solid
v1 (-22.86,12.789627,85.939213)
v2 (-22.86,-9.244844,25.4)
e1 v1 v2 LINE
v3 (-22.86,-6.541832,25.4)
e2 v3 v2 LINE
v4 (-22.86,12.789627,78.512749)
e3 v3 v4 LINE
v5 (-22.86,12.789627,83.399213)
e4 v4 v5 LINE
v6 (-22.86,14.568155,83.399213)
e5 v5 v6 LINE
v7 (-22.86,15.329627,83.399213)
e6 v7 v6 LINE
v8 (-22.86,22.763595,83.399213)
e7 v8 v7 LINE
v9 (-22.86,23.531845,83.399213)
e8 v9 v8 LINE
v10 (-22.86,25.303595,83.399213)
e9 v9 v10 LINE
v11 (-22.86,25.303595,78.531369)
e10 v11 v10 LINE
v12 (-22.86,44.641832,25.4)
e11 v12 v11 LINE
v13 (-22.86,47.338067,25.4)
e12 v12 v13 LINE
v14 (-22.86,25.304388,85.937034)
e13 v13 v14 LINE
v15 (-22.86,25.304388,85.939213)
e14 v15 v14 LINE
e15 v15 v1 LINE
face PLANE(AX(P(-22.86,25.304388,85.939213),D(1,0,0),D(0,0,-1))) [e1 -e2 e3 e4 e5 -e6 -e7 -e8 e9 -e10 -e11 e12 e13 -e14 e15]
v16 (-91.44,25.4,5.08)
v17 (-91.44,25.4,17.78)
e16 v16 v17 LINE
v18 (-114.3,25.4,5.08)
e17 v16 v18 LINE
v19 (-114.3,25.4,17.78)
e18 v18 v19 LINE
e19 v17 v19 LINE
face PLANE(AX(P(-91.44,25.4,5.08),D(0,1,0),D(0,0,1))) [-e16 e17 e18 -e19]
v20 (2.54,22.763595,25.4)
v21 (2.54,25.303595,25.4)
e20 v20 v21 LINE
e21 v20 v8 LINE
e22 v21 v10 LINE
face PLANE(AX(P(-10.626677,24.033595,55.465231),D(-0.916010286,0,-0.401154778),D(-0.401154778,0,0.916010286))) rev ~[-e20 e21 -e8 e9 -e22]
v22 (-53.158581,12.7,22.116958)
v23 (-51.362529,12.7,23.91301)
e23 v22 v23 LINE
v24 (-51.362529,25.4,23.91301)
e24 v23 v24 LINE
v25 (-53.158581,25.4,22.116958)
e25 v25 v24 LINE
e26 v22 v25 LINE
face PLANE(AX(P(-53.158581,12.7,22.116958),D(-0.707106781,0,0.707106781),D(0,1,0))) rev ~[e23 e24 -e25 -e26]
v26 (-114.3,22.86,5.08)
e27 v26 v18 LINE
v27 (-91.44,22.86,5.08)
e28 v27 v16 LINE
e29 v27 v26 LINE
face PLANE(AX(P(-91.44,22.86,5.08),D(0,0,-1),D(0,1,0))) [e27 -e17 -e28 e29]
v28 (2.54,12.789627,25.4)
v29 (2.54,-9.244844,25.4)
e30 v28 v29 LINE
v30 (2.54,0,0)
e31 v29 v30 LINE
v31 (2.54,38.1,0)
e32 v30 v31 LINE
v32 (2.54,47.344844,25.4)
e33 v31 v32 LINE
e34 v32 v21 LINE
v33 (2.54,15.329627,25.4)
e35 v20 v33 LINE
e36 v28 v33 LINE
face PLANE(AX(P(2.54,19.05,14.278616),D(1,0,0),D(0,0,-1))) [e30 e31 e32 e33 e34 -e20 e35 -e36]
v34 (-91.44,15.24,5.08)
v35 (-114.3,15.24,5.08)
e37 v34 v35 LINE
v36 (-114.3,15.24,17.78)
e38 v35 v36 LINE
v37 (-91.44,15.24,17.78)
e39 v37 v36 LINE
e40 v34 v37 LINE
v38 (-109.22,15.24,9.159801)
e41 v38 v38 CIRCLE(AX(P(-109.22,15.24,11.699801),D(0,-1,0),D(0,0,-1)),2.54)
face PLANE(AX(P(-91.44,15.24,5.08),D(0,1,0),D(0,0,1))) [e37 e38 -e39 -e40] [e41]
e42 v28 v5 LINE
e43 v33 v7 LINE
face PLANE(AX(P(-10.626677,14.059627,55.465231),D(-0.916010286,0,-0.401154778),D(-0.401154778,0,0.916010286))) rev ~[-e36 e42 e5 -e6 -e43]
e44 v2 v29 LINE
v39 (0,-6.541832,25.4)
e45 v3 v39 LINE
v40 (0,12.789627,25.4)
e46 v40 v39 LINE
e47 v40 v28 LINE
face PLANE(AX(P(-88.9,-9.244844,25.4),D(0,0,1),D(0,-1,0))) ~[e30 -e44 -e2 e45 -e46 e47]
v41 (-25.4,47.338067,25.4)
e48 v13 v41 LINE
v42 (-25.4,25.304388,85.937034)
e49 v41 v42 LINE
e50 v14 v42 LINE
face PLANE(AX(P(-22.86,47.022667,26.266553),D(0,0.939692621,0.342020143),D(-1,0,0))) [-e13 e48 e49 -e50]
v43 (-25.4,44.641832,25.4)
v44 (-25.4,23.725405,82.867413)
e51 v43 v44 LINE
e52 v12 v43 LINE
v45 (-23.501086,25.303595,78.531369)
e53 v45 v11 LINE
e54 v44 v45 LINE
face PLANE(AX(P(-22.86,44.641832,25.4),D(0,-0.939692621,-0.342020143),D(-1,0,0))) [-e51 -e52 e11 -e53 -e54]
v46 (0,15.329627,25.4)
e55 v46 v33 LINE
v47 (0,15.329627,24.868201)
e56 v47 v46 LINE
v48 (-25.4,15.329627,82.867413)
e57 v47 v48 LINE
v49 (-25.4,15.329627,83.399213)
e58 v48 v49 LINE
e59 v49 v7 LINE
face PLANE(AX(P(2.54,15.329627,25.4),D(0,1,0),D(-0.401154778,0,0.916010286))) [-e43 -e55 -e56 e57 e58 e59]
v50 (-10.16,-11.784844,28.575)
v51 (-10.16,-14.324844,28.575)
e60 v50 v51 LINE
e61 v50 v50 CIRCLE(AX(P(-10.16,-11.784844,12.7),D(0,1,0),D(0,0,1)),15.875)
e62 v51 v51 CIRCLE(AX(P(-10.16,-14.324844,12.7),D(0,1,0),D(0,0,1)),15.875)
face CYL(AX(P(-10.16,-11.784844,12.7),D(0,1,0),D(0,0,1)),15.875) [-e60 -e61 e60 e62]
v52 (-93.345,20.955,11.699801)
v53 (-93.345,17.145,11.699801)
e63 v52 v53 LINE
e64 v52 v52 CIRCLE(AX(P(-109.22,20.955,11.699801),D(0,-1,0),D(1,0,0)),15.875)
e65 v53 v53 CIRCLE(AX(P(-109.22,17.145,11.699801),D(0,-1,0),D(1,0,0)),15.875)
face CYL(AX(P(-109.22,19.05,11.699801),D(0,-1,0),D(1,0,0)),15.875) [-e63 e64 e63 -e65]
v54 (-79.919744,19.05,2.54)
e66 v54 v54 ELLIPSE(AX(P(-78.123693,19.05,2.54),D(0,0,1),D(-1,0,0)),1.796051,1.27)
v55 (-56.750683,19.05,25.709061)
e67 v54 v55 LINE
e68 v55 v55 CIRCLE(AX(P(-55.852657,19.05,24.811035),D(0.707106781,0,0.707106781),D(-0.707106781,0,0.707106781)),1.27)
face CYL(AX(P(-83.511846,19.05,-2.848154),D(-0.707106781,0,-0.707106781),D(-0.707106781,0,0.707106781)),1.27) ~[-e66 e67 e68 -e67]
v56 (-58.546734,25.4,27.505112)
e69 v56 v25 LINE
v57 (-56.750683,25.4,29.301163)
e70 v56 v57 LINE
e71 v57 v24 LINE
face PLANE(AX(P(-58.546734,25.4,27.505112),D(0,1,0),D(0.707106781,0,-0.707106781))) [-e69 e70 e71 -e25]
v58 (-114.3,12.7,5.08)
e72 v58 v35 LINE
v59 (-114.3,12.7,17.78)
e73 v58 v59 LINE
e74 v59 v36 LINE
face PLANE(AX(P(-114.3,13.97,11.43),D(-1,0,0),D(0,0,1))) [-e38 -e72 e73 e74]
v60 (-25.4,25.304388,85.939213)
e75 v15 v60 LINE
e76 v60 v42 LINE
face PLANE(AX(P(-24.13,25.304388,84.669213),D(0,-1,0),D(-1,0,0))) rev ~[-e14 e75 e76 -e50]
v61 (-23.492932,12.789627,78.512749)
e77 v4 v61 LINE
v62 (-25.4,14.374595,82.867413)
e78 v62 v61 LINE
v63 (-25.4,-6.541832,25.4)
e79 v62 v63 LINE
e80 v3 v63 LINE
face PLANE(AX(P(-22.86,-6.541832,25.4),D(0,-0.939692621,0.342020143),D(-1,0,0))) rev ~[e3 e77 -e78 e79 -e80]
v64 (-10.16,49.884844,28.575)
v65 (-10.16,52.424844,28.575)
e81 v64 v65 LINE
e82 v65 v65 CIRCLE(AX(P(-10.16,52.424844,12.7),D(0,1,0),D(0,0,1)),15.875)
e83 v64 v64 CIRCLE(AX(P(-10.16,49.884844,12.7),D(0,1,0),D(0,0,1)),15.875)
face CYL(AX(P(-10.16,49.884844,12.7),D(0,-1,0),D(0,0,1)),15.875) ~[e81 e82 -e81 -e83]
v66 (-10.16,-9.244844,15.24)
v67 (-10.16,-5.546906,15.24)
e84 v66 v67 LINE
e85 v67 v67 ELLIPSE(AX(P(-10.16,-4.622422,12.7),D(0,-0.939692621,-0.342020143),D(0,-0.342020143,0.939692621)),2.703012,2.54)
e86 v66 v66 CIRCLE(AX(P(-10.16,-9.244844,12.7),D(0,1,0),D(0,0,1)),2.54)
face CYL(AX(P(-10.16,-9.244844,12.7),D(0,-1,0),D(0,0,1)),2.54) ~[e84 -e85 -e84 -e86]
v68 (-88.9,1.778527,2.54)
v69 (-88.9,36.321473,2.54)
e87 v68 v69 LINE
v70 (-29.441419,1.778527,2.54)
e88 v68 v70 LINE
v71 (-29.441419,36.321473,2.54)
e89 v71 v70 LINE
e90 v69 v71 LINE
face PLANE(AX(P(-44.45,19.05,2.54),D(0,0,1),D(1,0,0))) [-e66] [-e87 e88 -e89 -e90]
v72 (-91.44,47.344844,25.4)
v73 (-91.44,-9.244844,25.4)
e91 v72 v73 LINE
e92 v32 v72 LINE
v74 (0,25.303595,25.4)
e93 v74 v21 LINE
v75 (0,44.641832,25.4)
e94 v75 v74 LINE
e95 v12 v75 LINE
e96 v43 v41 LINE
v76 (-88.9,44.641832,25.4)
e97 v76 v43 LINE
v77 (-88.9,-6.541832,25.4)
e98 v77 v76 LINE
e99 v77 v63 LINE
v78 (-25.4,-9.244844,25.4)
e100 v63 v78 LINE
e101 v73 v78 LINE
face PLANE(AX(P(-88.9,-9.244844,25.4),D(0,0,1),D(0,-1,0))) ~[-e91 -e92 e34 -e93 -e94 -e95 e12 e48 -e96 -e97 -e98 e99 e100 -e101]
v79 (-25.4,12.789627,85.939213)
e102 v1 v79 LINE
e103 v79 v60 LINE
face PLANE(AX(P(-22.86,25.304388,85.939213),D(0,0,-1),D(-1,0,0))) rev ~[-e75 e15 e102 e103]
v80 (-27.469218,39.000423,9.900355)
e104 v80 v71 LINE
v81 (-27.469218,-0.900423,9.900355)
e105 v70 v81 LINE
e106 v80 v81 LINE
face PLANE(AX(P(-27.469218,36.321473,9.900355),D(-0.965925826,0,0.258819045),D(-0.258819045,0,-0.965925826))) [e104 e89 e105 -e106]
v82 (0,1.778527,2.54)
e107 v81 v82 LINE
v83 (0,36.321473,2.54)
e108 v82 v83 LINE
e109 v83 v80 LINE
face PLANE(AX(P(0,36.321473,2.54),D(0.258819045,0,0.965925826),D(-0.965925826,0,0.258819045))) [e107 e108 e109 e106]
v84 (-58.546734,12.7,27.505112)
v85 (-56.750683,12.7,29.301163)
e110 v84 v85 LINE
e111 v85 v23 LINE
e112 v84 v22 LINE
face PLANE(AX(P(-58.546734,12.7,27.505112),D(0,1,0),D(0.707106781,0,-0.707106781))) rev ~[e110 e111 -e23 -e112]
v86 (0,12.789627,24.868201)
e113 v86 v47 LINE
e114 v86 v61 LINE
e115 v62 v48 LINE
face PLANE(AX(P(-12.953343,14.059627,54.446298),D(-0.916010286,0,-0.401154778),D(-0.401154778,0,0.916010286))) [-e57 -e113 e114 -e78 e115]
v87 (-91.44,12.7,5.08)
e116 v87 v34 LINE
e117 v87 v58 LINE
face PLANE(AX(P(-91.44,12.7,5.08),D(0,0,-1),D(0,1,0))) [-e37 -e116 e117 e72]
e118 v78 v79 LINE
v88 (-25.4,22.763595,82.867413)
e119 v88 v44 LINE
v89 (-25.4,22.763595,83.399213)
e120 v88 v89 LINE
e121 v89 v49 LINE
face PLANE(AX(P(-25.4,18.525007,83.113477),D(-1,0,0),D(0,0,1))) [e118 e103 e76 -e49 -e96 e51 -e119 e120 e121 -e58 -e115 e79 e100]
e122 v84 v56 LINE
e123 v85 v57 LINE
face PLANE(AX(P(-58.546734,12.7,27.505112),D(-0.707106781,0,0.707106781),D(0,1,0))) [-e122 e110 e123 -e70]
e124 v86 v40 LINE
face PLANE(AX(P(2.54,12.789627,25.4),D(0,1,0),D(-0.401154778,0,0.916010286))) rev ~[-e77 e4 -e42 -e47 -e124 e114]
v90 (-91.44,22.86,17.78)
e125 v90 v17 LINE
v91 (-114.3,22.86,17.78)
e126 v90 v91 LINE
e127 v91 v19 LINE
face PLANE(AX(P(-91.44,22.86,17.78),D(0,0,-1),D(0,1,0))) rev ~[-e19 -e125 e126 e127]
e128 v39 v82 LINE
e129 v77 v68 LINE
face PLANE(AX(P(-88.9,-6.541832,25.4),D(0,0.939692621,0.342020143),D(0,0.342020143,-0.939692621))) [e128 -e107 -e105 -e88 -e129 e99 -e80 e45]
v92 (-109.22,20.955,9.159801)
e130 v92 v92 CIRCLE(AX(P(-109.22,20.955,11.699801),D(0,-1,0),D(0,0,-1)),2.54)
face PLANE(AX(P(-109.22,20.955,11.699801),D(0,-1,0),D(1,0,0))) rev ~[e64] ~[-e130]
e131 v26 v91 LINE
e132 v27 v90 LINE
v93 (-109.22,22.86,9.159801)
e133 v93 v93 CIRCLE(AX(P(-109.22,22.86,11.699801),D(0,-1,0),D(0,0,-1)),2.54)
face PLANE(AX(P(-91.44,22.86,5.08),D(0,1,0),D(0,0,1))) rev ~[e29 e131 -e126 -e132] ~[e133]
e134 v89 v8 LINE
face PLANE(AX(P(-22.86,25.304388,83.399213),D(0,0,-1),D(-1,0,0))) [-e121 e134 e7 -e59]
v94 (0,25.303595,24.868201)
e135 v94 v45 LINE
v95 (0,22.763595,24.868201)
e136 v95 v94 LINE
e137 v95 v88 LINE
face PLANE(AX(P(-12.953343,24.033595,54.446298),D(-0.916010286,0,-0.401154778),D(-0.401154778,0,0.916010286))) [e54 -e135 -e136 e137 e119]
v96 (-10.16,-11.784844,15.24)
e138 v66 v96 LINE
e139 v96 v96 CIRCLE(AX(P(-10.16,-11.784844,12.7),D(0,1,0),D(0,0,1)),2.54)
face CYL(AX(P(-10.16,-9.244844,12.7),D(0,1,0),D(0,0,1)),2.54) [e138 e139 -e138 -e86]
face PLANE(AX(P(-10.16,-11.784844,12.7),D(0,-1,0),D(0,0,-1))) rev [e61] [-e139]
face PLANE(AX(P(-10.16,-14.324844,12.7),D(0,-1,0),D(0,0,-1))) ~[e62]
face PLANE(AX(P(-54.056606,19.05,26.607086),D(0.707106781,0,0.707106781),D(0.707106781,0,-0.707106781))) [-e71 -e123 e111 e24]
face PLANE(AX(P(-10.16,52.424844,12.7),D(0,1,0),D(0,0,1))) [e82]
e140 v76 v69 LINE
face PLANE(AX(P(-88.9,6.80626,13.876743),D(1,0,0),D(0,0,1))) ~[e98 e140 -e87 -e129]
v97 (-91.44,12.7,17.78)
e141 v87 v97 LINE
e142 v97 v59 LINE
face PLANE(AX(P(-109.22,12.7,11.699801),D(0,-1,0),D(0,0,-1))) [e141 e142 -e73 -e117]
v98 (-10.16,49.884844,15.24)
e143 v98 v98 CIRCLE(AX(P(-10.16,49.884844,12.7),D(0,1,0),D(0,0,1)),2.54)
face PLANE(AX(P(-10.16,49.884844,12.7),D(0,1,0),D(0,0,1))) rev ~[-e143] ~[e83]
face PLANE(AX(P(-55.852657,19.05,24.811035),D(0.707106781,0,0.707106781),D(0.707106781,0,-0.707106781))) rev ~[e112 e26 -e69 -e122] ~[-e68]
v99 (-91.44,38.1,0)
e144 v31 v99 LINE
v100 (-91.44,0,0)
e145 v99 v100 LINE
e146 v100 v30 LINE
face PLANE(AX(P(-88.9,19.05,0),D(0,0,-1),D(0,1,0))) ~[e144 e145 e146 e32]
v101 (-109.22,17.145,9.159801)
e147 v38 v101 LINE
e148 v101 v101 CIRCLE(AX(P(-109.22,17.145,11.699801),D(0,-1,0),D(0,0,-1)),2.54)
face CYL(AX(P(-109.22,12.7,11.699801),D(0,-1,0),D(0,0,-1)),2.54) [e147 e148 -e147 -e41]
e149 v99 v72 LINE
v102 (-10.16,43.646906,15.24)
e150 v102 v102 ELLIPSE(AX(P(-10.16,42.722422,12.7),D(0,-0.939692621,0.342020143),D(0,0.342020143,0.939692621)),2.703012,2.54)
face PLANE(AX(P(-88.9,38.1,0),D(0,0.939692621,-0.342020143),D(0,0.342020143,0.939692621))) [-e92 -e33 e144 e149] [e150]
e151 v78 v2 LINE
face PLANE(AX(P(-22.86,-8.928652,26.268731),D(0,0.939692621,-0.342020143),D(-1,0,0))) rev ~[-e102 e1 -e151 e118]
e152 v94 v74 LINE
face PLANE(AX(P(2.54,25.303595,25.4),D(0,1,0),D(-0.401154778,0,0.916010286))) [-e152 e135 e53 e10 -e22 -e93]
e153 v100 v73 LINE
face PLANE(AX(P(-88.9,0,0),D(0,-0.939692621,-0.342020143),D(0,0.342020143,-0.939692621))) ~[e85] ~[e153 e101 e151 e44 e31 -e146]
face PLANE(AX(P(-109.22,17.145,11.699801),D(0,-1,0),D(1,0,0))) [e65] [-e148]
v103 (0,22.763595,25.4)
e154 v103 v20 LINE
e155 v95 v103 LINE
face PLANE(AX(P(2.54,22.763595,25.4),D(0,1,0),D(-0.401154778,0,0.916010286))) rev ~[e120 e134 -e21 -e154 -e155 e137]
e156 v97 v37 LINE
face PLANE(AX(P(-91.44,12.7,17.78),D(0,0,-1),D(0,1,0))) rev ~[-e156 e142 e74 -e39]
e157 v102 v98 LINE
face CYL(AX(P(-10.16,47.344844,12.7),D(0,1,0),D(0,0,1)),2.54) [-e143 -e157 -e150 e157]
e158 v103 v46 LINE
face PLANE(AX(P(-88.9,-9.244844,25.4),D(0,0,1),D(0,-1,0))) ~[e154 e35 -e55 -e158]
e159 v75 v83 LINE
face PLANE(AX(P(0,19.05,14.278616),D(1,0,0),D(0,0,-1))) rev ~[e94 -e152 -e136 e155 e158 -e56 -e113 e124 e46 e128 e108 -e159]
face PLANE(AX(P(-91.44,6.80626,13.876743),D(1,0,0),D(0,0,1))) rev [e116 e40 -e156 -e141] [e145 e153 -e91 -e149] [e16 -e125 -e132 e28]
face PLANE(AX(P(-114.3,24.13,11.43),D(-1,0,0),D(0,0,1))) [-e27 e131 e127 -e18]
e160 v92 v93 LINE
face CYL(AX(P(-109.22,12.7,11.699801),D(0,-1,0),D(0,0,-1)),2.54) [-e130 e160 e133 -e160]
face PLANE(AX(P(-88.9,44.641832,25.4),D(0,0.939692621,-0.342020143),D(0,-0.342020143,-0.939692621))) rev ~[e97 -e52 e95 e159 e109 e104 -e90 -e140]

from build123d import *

# Parameters (mm, degrees)
SKETCH1_W                        = 88.9
SKETCH1_H                        = 38.1
BOSS_EXTRUDE1_DEPTH              = 2.54
BOSS_EXTRUDE2_DEPTH              = 88.9
BOSS_EXTRUDE3_DEPTH              = 2.54
SKETCH5_R                        = 2.54
BOSS_EXTRUDE4_DEPTH              = 2.54
BOSS_EXTRUDE4_DIRECTION_2_REACH  = 110.401
SKETCH6_R                        = 15.875
BOSS_EXTRUDE5_DEPTH              = 2.54
BOSS_EXTRUDE6_DEPTH              = 2.54
SKETCH8_W                        = 12.7
SKETCH8_H                        = 2.54
BOSS_EXTRUDE7_DEPTH              = 22.86
SKETCH9_R                        = 2.54
BOSS_EXTRUDE8_DEPTH              = 12.7
SKETCH11_R                       = 15.875
BOSS_EXTRUDE9_DEPTH              = 1.905
BOSS_EXTRUDE9_DEPTH_BACK         = 1.905
SKETCH13_W                       = 2.54
SKETCH13_H                       = 2.53363156
BOSS_EXTRUDE10_DEPTH             = 63.5
BOSS_EXTRUDE10_DIRECTION_2_REACH = 140.326
SKETCH16_W                       = 2.54
SKETCH16_H                       = 2.54
BOSS_EXTRUDE12_DEPTH             = 63.5
BOSS_EXTRUDE12_DIRECTION_2_REACH = 150.26
BOSS_EXTRUDE14_START             = -6.254388
SKETCH18_W                       = 2.54
SKETCH18_H                       = 2.54
BOSS_EXTRUDE14_DEPTH             = 12.514761
SKETCH19_W                       = 65.643872796
SKETCH19_H                       = 2.54
BOSS_EXTRUDE15_DEPTH             = 2.54
SKETCH20_W                       = 5.651471939
SKETCH20_H                       = 13.55717745
CUT_EXTRUDE1_DEPTH               = 2.54
SKETCH21_R                       = 1.27
BOSS_EXTRUDE16_DEPTH             = 39.116
SKETCH22_W                       = 9.722484857
SKETCH22_H                       = 17.213461762
CUT_EXTRUDE2_DEPTH               = 39.116
SKETCH23_W                       = 7.62
SKETCH23_H                       = 12.7
BOSS_EXTRUDE17_DEPTH             = 2.54
BOSS_EXTRUDE18_REACH             = 161.998
BOSS_EXTRUDE18_DIRECTION_2_REACH = 161.998


with BuildPart() as part:
    # Sketch1 → Boss-Extrude1 (new body)
    with BuildSketch(Plane.XY):
        with Locations((-44.45, 19.05)):
            Rectangle(SKETCH1_W, SKETCH1_H)
    extrude(amount=BOSS_EXTRUDE1_DEPTH)

    # Sketch2 → Boss-Extrude2 (add, through all)
    with BuildSketch(Plane.ZY.offset(88.9)):
        Polygon((0, 0), (25.4, -9.24484395), (25.4, -6.541832408), (2.54, 1.778527147), align=None)
        Polygon((0, 38.1), (25.4, 47.34484395), (25.4, 44.641832408), (2.54, 36.321472853), align=None)
    extrude(amount=-BOSS_EXTRUDE2_DEPTH)

    # Sketch3 → Boss-Extrude3 (add)
    with BuildSketch(Plane(origin=(0, 0, 0), x_dir=(0, 0, -1), z_dir=(1, 0, 0))):
        Polygon((-25.4, -9.24484395), (0, 0), (0, 38.1), (-25.4, 47.34484395), align=None)
    extrude(amount=BOSS_EXTRUDE3_DEPTH)

    # Sketch5 → Boss-Extrude4 (add)
    with BuildSketch(Plane(origin=(0, 47.34484395, 0), x_dir=(-1, 0, 0), z_dir=(0, 1, 0))):
        with Locations(Location((10.16, 12.7, 0), (0, 0, 90))):
            Circle(SKETCH5_R)
    boss_extrude4 = extrude(amount=BOSS_EXTRUDE4_DEPTH)

    # Sketch5 → Boss-Extrude4 direction 2 (add, up to next)
    with BuildSketch(Plane(origin=(0, 47.34484395, 0), x_dir=(-1, 0, 0), z_dir=(0, 1, 0)), mode=Mode.PRIVATE) as boss_extrude4_direction_2_sk1:
        with Locations(Location((10.16, 12.7, 0), (0, 0, 90))):
            Circle(SKETCH5_R)
    boss_extrude4_direction_2_tool1 = extrude(boss_extrude4_direction_2_sk1.sketch, amount=-BOSS_EXTRUDE4_DIRECTION_2_REACH, mode=Mode.PRIVATE) - part.part
    boss_extrude4_direction_2 = boss_extrude4_direction_2_tool1.solids().sort_by_distance((-10.16, 47.344844, 12.7))[0]
    add(boss_extrude4_direction_2)

    # Sketch6 → Boss-Extrude5 (add)
    with BuildSketch(Plane(origin=(0, 49.88484395, 0), x_dir=(1, 0, 0), z_dir=(0, 1, 0))):
        with Locations(Location((-10.16, -12.7, 0), (0, 0, 270))):
            Circle(SKETCH6_R)
    boss_extrude5 = extrude(amount=BOSS_EXTRUDE5_DEPTH)

    # Sketch7 → Boss-Extrude6 (add)
    with BuildSketch(Plane.ZY.offset(88.9)):
        Polygon((25.4, 47.34484395), (25.4, 19.05), (0, 19.05), (0, 38.1), align=None)
    boss_extrude6 = extrude(amount=BOSS_EXTRUDE6_DEPTH)

    # Mirror1: Boss-Extrude4, Boss-Extrude4 direction 2, Boss-Extrude5, Boss-Extrude6 across plane
    add(boss_extrude4.mirror(Plane(origin=(0, 19.05, 0), x_dir=(0, 0, 1), z_dir=(0, -1, 0))))
    add(boss_extrude4_direction_2.mirror(Plane(origin=(0, 19.05, 0), x_dir=(0, 0, 1), z_dir=(0, -1, 0))))
    add(boss_extrude5.mirror(Plane(origin=(0, 19.05, 0), x_dir=(0, 0, 1), z_dir=(0, -1, 0))))
    add(boss_extrude6.mirror(Plane(origin=(0, 19.05, 0), x_dir=(0, 0, 1), z_dir=(0, -1, 0))))

    # Sketch8 → Boss-Extrude7 (add)
    with BuildSketch(Plane.ZY.offset(91.44)):
        with Locations((11.43, 24.13)):
            Rectangle(SKETCH8_W, SKETCH8_H)
        with Locations((11.43, 13.97)):
            Rectangle(SKETCH8_W, SKETCH8_H)
    extrude(amount=BOSS_EXTRUDE7_DEPTH)

    # Sketch9 → Boss-Extrude8 (add)
    with BuildSketch(Plane(origin=(0, 12.7, 0), x_dir=(-1, 0, 0), z_dir=(0, -1, 0))):
        with Locations(Location((109.22, -11.699801303, 0), (0, 0, 90))):
            Circle(SKETCH9_R)
    extrude(amount=-BOSS_EXTRUDE8_DEPTH)

    # Sketch11 → Boss-Extrude9 (add, two sides)
    with BuildSketch(Plane(origin=(0, 19.05, 0), x_dir=(-1, 0, 0), z_dir=(0, -1, 0))) as boss_extrude9_sk:
        with Locations(Location((109.22, -11.699801303, 0), (0, 0, 180))):
            Circle(SKETCH11_R)
    extrude(amount=BOSS_EXTRUDE9_DEPTH)
    extrude(boss_extrude9_sk.sketch, amount=-BOSS_EXTRUDE9_DEPTH_BACK)


with BuildPart() as body_2:
    # Sketch13 → Boss-Extrude10 (new body)
    with BuildSketch(Plane(origin=(0, -2.941300262, 8.081156055), x_dir=(-1, 0, 0), z_dir=(0, 0.34202014332566333, -0.9396926207859104))):
        with Locations((24.13, 51.903727913)):
            Rectangle(SKETCH13_W, SKETCH13_H)
    extrude(amount=-BOSS_EXTRUDE10_DEPTH)


    # Sketch13 → Boss-Extrude10 direction 2 (add, up to next)
    with BuildSketch(Plane(origin=(0, -2.941300262, 8.081156055), x_dir=(-1, 0, 0), z_dir=(0, 0.34202014332566333, -0.9396926207859104)), mode=Mode.PRIVATE) as boss_extrude10_direction_2_sk1:
        with Locations((24.13, 51.903727913)):
            Rectangle(SKETCH13_W, SKETCH13_H)
    boss_extrude10_direction_2_tool1 = extrude(boss_extrude10_direction_2_sk1.sketch, amount=BOSS_EXTRUDE10_DIRECTION_2_REACH, mode=Mode.PRIVATE) - part.part
    add(boss_extrude10_direction_2_tool1.solids().sort_by_distance((-24.13, 45.83225, 25.833277))[0])


with BuildPart() as boss_extrude12_tool:
    # Sketch16 → Boss-Extrude12 (new body)
    with BuildSketch(Plane(origin=(0, 7.398153621, 20.326260019), x_dir=(-1, 0, 0), z_dir=(0, 0.34202014332566943, 0.9396926207859081))):
        with Locations((24.13, 16.104623281)):
            Rectangle(SKETCH16_W, SKETCH16_H)
    extrude(amount=BOSS_EXTRUDE12_DEPTH)


with BuildPart() as part_1:
    add(part.part)


with BuildPart() as part_2:
    # Boss-Extrude12: joined with boss_extrude12_tool
    add(part_1.part.fuse(boss_extrude12_tool.part, tol=0.00001))

    # Sketch16 → Boss-Extrude12 direction 2 (add, up to next)
    with BuildSketch(Plane(origin=(0, 7.398153621, 20.326260019), x_dir=(-1, 0, 0), z_dir=(0, 0.34202014332566943, 0.9396926207859081)), mode=Mode.PRIVATE) as boss_extrude12_direction_2_sk1:
        with Locations((24.13, 16.104623281)):
            Rectangle(SKETCH16_W, SKETCH16_H)
    boss_extrude12_direction_2_tool1 = extrude(boss_extrude12_direction_2_sk1.sketch, amount=-BOSS_EXTRUDE12_DIRECTION_2_REACH, mode=Mode.PRIVATE) - part_2.part
    add(boss_extrude12_direction_2_tool1.solids().sort_by_distance((-24.13, -7.735242, 25.834366))[0])


    add(body_2.part)  # Boss-Extrude14 merges body 2
    # Sketch18 → Boss-Extrude14 (add)
    with BuildSketch(Plane(origin=(0, 19.05, 0), x_dir=(-1, 0, 0), z_dir=(0, -1, 0)).offset(BOSS_EXTRUDE14_START)):
        with Locations((24.13, -84.669212584)):
            Rectangle(SKETCH18_W, SKETCH18_H)
    extrude(amount=BOSS_EXTRUDE14_DEPTH)

    # Sketch19 → Boss-Extrude15 (add)
    with BuildSketch(Plane(origin=(11.464782442, 0, 5.020852199), x_dir=(-0.40115477823907125, 0, 0.9160102859116602), z_dir=(-0.9160102859116602, 0, -0.40115477823907125))):
        with Locations((55.069664523, 14.059627436)):
            Rectangle(SKETCH19_W, SKETCH19_H)
        with Locations((55.069664523, 24.033595411)):
            Rectangle(SKETCH19_W, SKETCH19_H)
    extrude(amount=BOSS_EXTRUDE15_DEPTH)

    # Sketch20 → Cut-Extrude1 (cut)
    with BuildSketch(Plane.ZY.offset(25.4)):
        with Locations((83.113476615, 18.525006686)):
            Rectangle(SKETCH20_W, SKETCH20_H)
    extrude(amount=CUT_EXTRUDE1_DEPTH, mode=Mode.SUBTRACT)

    # Sketch21 → Boss-Extrude16 (add)
    with BuildSketch(Plane(origin=(-43.18, 0, -43.18), x_dir=(0, -1, 0), z_dir=(0.7071067811865488, 0, 0.7071067811865464))):
        with Locations(Location((-19.05, -57.037844072, 0), (0, 0, 270))):
            Circle(SKETCH21_R)
    extrude(amount=BOSS_EXTRUDE16_DEPTH)

    # Sketch22 → Cut-Extrude2 (cut)
    with BuildSketch(Plane(origin=(0, 0, 0), x_dir=(-1, 0, 0), z_dir=(0, 0, -1))):
        with Locations((79.946093386, 21.082088855)):
            Rectangle(SKETCH22_W, SKETCH22_H)
    extrude(amount=CUT_EXTRUDE2_DEPTH, mode=Mode.SUBTRACT)

    # Sketch23 → Boss-Extrude17 (add)
    with BuildSketch(Plane(origin=(-15.520811147, 0, -15.520811147), x_dir=(0.7071067811865465, 0, -0.7071067811865487), z_dir=(0.7071067811865487, 0, 0.7071067811865465))):
        with Locations((-57.037844072, 19.05)):
            Rectangle(SKETCH23_W, SKETCH23_H)
    extrude(amount=BOSS_EXTRUDE17_DEPTH)

    # Sketch25 → Boss-Extrude18 (add, up to next)
    with BuildSketch(Plane(origin=(0, 36.321472853, 0), x_dir=(-1, 0, 0), z_dir=(0, 1, 0)), mode=Mode.PRIVATE) as boss_extrude18_sk1:
        Polygon((0, 2.54), (27.469218062, 9.900354796), (29.441419185, 2.54), align=None)
    boss_extrude18_tool1 = extrude(boss_extrude18_sk1.sketch, amount=-BOSS_EXTRUDE18_REACH, mode=Mode.PRIVATE) - part_2.part
    add(boss_extrude18_tool1.solids().sort_by_distance((-18.970212, 36.321473, 4.993452))[0])

    # Sketch25 → Boss-Extrude18 direction 2 (add, up to next)
    with BuildSketch(Plane(origin=(0, 36.321472853, 0), x_dir=(-1, 0, 0), z_dir=(0, 1, 0)), mode=Mode.PRIVATE) as boss_extrude18_direction_2_sk1:
        Polygon((0, 2.54), (27.469218062, 9.900354796), (29.441419185, 2.54), align=None)
    boss_extrude18_direction_2_tool1 = extrude(boss_extrude18_direction_2_sk1.sketch, amount=BOSS_EXTRUDE18_DIRECTION_2_REACH, mode=Mode.PRIVATE) - part_2.part
    add(boss_extrude18_direction_2_tool1.solids().sort_by_distance((-18.970212, 36.321473, 4.993452))[0])


solid = part_2.part
